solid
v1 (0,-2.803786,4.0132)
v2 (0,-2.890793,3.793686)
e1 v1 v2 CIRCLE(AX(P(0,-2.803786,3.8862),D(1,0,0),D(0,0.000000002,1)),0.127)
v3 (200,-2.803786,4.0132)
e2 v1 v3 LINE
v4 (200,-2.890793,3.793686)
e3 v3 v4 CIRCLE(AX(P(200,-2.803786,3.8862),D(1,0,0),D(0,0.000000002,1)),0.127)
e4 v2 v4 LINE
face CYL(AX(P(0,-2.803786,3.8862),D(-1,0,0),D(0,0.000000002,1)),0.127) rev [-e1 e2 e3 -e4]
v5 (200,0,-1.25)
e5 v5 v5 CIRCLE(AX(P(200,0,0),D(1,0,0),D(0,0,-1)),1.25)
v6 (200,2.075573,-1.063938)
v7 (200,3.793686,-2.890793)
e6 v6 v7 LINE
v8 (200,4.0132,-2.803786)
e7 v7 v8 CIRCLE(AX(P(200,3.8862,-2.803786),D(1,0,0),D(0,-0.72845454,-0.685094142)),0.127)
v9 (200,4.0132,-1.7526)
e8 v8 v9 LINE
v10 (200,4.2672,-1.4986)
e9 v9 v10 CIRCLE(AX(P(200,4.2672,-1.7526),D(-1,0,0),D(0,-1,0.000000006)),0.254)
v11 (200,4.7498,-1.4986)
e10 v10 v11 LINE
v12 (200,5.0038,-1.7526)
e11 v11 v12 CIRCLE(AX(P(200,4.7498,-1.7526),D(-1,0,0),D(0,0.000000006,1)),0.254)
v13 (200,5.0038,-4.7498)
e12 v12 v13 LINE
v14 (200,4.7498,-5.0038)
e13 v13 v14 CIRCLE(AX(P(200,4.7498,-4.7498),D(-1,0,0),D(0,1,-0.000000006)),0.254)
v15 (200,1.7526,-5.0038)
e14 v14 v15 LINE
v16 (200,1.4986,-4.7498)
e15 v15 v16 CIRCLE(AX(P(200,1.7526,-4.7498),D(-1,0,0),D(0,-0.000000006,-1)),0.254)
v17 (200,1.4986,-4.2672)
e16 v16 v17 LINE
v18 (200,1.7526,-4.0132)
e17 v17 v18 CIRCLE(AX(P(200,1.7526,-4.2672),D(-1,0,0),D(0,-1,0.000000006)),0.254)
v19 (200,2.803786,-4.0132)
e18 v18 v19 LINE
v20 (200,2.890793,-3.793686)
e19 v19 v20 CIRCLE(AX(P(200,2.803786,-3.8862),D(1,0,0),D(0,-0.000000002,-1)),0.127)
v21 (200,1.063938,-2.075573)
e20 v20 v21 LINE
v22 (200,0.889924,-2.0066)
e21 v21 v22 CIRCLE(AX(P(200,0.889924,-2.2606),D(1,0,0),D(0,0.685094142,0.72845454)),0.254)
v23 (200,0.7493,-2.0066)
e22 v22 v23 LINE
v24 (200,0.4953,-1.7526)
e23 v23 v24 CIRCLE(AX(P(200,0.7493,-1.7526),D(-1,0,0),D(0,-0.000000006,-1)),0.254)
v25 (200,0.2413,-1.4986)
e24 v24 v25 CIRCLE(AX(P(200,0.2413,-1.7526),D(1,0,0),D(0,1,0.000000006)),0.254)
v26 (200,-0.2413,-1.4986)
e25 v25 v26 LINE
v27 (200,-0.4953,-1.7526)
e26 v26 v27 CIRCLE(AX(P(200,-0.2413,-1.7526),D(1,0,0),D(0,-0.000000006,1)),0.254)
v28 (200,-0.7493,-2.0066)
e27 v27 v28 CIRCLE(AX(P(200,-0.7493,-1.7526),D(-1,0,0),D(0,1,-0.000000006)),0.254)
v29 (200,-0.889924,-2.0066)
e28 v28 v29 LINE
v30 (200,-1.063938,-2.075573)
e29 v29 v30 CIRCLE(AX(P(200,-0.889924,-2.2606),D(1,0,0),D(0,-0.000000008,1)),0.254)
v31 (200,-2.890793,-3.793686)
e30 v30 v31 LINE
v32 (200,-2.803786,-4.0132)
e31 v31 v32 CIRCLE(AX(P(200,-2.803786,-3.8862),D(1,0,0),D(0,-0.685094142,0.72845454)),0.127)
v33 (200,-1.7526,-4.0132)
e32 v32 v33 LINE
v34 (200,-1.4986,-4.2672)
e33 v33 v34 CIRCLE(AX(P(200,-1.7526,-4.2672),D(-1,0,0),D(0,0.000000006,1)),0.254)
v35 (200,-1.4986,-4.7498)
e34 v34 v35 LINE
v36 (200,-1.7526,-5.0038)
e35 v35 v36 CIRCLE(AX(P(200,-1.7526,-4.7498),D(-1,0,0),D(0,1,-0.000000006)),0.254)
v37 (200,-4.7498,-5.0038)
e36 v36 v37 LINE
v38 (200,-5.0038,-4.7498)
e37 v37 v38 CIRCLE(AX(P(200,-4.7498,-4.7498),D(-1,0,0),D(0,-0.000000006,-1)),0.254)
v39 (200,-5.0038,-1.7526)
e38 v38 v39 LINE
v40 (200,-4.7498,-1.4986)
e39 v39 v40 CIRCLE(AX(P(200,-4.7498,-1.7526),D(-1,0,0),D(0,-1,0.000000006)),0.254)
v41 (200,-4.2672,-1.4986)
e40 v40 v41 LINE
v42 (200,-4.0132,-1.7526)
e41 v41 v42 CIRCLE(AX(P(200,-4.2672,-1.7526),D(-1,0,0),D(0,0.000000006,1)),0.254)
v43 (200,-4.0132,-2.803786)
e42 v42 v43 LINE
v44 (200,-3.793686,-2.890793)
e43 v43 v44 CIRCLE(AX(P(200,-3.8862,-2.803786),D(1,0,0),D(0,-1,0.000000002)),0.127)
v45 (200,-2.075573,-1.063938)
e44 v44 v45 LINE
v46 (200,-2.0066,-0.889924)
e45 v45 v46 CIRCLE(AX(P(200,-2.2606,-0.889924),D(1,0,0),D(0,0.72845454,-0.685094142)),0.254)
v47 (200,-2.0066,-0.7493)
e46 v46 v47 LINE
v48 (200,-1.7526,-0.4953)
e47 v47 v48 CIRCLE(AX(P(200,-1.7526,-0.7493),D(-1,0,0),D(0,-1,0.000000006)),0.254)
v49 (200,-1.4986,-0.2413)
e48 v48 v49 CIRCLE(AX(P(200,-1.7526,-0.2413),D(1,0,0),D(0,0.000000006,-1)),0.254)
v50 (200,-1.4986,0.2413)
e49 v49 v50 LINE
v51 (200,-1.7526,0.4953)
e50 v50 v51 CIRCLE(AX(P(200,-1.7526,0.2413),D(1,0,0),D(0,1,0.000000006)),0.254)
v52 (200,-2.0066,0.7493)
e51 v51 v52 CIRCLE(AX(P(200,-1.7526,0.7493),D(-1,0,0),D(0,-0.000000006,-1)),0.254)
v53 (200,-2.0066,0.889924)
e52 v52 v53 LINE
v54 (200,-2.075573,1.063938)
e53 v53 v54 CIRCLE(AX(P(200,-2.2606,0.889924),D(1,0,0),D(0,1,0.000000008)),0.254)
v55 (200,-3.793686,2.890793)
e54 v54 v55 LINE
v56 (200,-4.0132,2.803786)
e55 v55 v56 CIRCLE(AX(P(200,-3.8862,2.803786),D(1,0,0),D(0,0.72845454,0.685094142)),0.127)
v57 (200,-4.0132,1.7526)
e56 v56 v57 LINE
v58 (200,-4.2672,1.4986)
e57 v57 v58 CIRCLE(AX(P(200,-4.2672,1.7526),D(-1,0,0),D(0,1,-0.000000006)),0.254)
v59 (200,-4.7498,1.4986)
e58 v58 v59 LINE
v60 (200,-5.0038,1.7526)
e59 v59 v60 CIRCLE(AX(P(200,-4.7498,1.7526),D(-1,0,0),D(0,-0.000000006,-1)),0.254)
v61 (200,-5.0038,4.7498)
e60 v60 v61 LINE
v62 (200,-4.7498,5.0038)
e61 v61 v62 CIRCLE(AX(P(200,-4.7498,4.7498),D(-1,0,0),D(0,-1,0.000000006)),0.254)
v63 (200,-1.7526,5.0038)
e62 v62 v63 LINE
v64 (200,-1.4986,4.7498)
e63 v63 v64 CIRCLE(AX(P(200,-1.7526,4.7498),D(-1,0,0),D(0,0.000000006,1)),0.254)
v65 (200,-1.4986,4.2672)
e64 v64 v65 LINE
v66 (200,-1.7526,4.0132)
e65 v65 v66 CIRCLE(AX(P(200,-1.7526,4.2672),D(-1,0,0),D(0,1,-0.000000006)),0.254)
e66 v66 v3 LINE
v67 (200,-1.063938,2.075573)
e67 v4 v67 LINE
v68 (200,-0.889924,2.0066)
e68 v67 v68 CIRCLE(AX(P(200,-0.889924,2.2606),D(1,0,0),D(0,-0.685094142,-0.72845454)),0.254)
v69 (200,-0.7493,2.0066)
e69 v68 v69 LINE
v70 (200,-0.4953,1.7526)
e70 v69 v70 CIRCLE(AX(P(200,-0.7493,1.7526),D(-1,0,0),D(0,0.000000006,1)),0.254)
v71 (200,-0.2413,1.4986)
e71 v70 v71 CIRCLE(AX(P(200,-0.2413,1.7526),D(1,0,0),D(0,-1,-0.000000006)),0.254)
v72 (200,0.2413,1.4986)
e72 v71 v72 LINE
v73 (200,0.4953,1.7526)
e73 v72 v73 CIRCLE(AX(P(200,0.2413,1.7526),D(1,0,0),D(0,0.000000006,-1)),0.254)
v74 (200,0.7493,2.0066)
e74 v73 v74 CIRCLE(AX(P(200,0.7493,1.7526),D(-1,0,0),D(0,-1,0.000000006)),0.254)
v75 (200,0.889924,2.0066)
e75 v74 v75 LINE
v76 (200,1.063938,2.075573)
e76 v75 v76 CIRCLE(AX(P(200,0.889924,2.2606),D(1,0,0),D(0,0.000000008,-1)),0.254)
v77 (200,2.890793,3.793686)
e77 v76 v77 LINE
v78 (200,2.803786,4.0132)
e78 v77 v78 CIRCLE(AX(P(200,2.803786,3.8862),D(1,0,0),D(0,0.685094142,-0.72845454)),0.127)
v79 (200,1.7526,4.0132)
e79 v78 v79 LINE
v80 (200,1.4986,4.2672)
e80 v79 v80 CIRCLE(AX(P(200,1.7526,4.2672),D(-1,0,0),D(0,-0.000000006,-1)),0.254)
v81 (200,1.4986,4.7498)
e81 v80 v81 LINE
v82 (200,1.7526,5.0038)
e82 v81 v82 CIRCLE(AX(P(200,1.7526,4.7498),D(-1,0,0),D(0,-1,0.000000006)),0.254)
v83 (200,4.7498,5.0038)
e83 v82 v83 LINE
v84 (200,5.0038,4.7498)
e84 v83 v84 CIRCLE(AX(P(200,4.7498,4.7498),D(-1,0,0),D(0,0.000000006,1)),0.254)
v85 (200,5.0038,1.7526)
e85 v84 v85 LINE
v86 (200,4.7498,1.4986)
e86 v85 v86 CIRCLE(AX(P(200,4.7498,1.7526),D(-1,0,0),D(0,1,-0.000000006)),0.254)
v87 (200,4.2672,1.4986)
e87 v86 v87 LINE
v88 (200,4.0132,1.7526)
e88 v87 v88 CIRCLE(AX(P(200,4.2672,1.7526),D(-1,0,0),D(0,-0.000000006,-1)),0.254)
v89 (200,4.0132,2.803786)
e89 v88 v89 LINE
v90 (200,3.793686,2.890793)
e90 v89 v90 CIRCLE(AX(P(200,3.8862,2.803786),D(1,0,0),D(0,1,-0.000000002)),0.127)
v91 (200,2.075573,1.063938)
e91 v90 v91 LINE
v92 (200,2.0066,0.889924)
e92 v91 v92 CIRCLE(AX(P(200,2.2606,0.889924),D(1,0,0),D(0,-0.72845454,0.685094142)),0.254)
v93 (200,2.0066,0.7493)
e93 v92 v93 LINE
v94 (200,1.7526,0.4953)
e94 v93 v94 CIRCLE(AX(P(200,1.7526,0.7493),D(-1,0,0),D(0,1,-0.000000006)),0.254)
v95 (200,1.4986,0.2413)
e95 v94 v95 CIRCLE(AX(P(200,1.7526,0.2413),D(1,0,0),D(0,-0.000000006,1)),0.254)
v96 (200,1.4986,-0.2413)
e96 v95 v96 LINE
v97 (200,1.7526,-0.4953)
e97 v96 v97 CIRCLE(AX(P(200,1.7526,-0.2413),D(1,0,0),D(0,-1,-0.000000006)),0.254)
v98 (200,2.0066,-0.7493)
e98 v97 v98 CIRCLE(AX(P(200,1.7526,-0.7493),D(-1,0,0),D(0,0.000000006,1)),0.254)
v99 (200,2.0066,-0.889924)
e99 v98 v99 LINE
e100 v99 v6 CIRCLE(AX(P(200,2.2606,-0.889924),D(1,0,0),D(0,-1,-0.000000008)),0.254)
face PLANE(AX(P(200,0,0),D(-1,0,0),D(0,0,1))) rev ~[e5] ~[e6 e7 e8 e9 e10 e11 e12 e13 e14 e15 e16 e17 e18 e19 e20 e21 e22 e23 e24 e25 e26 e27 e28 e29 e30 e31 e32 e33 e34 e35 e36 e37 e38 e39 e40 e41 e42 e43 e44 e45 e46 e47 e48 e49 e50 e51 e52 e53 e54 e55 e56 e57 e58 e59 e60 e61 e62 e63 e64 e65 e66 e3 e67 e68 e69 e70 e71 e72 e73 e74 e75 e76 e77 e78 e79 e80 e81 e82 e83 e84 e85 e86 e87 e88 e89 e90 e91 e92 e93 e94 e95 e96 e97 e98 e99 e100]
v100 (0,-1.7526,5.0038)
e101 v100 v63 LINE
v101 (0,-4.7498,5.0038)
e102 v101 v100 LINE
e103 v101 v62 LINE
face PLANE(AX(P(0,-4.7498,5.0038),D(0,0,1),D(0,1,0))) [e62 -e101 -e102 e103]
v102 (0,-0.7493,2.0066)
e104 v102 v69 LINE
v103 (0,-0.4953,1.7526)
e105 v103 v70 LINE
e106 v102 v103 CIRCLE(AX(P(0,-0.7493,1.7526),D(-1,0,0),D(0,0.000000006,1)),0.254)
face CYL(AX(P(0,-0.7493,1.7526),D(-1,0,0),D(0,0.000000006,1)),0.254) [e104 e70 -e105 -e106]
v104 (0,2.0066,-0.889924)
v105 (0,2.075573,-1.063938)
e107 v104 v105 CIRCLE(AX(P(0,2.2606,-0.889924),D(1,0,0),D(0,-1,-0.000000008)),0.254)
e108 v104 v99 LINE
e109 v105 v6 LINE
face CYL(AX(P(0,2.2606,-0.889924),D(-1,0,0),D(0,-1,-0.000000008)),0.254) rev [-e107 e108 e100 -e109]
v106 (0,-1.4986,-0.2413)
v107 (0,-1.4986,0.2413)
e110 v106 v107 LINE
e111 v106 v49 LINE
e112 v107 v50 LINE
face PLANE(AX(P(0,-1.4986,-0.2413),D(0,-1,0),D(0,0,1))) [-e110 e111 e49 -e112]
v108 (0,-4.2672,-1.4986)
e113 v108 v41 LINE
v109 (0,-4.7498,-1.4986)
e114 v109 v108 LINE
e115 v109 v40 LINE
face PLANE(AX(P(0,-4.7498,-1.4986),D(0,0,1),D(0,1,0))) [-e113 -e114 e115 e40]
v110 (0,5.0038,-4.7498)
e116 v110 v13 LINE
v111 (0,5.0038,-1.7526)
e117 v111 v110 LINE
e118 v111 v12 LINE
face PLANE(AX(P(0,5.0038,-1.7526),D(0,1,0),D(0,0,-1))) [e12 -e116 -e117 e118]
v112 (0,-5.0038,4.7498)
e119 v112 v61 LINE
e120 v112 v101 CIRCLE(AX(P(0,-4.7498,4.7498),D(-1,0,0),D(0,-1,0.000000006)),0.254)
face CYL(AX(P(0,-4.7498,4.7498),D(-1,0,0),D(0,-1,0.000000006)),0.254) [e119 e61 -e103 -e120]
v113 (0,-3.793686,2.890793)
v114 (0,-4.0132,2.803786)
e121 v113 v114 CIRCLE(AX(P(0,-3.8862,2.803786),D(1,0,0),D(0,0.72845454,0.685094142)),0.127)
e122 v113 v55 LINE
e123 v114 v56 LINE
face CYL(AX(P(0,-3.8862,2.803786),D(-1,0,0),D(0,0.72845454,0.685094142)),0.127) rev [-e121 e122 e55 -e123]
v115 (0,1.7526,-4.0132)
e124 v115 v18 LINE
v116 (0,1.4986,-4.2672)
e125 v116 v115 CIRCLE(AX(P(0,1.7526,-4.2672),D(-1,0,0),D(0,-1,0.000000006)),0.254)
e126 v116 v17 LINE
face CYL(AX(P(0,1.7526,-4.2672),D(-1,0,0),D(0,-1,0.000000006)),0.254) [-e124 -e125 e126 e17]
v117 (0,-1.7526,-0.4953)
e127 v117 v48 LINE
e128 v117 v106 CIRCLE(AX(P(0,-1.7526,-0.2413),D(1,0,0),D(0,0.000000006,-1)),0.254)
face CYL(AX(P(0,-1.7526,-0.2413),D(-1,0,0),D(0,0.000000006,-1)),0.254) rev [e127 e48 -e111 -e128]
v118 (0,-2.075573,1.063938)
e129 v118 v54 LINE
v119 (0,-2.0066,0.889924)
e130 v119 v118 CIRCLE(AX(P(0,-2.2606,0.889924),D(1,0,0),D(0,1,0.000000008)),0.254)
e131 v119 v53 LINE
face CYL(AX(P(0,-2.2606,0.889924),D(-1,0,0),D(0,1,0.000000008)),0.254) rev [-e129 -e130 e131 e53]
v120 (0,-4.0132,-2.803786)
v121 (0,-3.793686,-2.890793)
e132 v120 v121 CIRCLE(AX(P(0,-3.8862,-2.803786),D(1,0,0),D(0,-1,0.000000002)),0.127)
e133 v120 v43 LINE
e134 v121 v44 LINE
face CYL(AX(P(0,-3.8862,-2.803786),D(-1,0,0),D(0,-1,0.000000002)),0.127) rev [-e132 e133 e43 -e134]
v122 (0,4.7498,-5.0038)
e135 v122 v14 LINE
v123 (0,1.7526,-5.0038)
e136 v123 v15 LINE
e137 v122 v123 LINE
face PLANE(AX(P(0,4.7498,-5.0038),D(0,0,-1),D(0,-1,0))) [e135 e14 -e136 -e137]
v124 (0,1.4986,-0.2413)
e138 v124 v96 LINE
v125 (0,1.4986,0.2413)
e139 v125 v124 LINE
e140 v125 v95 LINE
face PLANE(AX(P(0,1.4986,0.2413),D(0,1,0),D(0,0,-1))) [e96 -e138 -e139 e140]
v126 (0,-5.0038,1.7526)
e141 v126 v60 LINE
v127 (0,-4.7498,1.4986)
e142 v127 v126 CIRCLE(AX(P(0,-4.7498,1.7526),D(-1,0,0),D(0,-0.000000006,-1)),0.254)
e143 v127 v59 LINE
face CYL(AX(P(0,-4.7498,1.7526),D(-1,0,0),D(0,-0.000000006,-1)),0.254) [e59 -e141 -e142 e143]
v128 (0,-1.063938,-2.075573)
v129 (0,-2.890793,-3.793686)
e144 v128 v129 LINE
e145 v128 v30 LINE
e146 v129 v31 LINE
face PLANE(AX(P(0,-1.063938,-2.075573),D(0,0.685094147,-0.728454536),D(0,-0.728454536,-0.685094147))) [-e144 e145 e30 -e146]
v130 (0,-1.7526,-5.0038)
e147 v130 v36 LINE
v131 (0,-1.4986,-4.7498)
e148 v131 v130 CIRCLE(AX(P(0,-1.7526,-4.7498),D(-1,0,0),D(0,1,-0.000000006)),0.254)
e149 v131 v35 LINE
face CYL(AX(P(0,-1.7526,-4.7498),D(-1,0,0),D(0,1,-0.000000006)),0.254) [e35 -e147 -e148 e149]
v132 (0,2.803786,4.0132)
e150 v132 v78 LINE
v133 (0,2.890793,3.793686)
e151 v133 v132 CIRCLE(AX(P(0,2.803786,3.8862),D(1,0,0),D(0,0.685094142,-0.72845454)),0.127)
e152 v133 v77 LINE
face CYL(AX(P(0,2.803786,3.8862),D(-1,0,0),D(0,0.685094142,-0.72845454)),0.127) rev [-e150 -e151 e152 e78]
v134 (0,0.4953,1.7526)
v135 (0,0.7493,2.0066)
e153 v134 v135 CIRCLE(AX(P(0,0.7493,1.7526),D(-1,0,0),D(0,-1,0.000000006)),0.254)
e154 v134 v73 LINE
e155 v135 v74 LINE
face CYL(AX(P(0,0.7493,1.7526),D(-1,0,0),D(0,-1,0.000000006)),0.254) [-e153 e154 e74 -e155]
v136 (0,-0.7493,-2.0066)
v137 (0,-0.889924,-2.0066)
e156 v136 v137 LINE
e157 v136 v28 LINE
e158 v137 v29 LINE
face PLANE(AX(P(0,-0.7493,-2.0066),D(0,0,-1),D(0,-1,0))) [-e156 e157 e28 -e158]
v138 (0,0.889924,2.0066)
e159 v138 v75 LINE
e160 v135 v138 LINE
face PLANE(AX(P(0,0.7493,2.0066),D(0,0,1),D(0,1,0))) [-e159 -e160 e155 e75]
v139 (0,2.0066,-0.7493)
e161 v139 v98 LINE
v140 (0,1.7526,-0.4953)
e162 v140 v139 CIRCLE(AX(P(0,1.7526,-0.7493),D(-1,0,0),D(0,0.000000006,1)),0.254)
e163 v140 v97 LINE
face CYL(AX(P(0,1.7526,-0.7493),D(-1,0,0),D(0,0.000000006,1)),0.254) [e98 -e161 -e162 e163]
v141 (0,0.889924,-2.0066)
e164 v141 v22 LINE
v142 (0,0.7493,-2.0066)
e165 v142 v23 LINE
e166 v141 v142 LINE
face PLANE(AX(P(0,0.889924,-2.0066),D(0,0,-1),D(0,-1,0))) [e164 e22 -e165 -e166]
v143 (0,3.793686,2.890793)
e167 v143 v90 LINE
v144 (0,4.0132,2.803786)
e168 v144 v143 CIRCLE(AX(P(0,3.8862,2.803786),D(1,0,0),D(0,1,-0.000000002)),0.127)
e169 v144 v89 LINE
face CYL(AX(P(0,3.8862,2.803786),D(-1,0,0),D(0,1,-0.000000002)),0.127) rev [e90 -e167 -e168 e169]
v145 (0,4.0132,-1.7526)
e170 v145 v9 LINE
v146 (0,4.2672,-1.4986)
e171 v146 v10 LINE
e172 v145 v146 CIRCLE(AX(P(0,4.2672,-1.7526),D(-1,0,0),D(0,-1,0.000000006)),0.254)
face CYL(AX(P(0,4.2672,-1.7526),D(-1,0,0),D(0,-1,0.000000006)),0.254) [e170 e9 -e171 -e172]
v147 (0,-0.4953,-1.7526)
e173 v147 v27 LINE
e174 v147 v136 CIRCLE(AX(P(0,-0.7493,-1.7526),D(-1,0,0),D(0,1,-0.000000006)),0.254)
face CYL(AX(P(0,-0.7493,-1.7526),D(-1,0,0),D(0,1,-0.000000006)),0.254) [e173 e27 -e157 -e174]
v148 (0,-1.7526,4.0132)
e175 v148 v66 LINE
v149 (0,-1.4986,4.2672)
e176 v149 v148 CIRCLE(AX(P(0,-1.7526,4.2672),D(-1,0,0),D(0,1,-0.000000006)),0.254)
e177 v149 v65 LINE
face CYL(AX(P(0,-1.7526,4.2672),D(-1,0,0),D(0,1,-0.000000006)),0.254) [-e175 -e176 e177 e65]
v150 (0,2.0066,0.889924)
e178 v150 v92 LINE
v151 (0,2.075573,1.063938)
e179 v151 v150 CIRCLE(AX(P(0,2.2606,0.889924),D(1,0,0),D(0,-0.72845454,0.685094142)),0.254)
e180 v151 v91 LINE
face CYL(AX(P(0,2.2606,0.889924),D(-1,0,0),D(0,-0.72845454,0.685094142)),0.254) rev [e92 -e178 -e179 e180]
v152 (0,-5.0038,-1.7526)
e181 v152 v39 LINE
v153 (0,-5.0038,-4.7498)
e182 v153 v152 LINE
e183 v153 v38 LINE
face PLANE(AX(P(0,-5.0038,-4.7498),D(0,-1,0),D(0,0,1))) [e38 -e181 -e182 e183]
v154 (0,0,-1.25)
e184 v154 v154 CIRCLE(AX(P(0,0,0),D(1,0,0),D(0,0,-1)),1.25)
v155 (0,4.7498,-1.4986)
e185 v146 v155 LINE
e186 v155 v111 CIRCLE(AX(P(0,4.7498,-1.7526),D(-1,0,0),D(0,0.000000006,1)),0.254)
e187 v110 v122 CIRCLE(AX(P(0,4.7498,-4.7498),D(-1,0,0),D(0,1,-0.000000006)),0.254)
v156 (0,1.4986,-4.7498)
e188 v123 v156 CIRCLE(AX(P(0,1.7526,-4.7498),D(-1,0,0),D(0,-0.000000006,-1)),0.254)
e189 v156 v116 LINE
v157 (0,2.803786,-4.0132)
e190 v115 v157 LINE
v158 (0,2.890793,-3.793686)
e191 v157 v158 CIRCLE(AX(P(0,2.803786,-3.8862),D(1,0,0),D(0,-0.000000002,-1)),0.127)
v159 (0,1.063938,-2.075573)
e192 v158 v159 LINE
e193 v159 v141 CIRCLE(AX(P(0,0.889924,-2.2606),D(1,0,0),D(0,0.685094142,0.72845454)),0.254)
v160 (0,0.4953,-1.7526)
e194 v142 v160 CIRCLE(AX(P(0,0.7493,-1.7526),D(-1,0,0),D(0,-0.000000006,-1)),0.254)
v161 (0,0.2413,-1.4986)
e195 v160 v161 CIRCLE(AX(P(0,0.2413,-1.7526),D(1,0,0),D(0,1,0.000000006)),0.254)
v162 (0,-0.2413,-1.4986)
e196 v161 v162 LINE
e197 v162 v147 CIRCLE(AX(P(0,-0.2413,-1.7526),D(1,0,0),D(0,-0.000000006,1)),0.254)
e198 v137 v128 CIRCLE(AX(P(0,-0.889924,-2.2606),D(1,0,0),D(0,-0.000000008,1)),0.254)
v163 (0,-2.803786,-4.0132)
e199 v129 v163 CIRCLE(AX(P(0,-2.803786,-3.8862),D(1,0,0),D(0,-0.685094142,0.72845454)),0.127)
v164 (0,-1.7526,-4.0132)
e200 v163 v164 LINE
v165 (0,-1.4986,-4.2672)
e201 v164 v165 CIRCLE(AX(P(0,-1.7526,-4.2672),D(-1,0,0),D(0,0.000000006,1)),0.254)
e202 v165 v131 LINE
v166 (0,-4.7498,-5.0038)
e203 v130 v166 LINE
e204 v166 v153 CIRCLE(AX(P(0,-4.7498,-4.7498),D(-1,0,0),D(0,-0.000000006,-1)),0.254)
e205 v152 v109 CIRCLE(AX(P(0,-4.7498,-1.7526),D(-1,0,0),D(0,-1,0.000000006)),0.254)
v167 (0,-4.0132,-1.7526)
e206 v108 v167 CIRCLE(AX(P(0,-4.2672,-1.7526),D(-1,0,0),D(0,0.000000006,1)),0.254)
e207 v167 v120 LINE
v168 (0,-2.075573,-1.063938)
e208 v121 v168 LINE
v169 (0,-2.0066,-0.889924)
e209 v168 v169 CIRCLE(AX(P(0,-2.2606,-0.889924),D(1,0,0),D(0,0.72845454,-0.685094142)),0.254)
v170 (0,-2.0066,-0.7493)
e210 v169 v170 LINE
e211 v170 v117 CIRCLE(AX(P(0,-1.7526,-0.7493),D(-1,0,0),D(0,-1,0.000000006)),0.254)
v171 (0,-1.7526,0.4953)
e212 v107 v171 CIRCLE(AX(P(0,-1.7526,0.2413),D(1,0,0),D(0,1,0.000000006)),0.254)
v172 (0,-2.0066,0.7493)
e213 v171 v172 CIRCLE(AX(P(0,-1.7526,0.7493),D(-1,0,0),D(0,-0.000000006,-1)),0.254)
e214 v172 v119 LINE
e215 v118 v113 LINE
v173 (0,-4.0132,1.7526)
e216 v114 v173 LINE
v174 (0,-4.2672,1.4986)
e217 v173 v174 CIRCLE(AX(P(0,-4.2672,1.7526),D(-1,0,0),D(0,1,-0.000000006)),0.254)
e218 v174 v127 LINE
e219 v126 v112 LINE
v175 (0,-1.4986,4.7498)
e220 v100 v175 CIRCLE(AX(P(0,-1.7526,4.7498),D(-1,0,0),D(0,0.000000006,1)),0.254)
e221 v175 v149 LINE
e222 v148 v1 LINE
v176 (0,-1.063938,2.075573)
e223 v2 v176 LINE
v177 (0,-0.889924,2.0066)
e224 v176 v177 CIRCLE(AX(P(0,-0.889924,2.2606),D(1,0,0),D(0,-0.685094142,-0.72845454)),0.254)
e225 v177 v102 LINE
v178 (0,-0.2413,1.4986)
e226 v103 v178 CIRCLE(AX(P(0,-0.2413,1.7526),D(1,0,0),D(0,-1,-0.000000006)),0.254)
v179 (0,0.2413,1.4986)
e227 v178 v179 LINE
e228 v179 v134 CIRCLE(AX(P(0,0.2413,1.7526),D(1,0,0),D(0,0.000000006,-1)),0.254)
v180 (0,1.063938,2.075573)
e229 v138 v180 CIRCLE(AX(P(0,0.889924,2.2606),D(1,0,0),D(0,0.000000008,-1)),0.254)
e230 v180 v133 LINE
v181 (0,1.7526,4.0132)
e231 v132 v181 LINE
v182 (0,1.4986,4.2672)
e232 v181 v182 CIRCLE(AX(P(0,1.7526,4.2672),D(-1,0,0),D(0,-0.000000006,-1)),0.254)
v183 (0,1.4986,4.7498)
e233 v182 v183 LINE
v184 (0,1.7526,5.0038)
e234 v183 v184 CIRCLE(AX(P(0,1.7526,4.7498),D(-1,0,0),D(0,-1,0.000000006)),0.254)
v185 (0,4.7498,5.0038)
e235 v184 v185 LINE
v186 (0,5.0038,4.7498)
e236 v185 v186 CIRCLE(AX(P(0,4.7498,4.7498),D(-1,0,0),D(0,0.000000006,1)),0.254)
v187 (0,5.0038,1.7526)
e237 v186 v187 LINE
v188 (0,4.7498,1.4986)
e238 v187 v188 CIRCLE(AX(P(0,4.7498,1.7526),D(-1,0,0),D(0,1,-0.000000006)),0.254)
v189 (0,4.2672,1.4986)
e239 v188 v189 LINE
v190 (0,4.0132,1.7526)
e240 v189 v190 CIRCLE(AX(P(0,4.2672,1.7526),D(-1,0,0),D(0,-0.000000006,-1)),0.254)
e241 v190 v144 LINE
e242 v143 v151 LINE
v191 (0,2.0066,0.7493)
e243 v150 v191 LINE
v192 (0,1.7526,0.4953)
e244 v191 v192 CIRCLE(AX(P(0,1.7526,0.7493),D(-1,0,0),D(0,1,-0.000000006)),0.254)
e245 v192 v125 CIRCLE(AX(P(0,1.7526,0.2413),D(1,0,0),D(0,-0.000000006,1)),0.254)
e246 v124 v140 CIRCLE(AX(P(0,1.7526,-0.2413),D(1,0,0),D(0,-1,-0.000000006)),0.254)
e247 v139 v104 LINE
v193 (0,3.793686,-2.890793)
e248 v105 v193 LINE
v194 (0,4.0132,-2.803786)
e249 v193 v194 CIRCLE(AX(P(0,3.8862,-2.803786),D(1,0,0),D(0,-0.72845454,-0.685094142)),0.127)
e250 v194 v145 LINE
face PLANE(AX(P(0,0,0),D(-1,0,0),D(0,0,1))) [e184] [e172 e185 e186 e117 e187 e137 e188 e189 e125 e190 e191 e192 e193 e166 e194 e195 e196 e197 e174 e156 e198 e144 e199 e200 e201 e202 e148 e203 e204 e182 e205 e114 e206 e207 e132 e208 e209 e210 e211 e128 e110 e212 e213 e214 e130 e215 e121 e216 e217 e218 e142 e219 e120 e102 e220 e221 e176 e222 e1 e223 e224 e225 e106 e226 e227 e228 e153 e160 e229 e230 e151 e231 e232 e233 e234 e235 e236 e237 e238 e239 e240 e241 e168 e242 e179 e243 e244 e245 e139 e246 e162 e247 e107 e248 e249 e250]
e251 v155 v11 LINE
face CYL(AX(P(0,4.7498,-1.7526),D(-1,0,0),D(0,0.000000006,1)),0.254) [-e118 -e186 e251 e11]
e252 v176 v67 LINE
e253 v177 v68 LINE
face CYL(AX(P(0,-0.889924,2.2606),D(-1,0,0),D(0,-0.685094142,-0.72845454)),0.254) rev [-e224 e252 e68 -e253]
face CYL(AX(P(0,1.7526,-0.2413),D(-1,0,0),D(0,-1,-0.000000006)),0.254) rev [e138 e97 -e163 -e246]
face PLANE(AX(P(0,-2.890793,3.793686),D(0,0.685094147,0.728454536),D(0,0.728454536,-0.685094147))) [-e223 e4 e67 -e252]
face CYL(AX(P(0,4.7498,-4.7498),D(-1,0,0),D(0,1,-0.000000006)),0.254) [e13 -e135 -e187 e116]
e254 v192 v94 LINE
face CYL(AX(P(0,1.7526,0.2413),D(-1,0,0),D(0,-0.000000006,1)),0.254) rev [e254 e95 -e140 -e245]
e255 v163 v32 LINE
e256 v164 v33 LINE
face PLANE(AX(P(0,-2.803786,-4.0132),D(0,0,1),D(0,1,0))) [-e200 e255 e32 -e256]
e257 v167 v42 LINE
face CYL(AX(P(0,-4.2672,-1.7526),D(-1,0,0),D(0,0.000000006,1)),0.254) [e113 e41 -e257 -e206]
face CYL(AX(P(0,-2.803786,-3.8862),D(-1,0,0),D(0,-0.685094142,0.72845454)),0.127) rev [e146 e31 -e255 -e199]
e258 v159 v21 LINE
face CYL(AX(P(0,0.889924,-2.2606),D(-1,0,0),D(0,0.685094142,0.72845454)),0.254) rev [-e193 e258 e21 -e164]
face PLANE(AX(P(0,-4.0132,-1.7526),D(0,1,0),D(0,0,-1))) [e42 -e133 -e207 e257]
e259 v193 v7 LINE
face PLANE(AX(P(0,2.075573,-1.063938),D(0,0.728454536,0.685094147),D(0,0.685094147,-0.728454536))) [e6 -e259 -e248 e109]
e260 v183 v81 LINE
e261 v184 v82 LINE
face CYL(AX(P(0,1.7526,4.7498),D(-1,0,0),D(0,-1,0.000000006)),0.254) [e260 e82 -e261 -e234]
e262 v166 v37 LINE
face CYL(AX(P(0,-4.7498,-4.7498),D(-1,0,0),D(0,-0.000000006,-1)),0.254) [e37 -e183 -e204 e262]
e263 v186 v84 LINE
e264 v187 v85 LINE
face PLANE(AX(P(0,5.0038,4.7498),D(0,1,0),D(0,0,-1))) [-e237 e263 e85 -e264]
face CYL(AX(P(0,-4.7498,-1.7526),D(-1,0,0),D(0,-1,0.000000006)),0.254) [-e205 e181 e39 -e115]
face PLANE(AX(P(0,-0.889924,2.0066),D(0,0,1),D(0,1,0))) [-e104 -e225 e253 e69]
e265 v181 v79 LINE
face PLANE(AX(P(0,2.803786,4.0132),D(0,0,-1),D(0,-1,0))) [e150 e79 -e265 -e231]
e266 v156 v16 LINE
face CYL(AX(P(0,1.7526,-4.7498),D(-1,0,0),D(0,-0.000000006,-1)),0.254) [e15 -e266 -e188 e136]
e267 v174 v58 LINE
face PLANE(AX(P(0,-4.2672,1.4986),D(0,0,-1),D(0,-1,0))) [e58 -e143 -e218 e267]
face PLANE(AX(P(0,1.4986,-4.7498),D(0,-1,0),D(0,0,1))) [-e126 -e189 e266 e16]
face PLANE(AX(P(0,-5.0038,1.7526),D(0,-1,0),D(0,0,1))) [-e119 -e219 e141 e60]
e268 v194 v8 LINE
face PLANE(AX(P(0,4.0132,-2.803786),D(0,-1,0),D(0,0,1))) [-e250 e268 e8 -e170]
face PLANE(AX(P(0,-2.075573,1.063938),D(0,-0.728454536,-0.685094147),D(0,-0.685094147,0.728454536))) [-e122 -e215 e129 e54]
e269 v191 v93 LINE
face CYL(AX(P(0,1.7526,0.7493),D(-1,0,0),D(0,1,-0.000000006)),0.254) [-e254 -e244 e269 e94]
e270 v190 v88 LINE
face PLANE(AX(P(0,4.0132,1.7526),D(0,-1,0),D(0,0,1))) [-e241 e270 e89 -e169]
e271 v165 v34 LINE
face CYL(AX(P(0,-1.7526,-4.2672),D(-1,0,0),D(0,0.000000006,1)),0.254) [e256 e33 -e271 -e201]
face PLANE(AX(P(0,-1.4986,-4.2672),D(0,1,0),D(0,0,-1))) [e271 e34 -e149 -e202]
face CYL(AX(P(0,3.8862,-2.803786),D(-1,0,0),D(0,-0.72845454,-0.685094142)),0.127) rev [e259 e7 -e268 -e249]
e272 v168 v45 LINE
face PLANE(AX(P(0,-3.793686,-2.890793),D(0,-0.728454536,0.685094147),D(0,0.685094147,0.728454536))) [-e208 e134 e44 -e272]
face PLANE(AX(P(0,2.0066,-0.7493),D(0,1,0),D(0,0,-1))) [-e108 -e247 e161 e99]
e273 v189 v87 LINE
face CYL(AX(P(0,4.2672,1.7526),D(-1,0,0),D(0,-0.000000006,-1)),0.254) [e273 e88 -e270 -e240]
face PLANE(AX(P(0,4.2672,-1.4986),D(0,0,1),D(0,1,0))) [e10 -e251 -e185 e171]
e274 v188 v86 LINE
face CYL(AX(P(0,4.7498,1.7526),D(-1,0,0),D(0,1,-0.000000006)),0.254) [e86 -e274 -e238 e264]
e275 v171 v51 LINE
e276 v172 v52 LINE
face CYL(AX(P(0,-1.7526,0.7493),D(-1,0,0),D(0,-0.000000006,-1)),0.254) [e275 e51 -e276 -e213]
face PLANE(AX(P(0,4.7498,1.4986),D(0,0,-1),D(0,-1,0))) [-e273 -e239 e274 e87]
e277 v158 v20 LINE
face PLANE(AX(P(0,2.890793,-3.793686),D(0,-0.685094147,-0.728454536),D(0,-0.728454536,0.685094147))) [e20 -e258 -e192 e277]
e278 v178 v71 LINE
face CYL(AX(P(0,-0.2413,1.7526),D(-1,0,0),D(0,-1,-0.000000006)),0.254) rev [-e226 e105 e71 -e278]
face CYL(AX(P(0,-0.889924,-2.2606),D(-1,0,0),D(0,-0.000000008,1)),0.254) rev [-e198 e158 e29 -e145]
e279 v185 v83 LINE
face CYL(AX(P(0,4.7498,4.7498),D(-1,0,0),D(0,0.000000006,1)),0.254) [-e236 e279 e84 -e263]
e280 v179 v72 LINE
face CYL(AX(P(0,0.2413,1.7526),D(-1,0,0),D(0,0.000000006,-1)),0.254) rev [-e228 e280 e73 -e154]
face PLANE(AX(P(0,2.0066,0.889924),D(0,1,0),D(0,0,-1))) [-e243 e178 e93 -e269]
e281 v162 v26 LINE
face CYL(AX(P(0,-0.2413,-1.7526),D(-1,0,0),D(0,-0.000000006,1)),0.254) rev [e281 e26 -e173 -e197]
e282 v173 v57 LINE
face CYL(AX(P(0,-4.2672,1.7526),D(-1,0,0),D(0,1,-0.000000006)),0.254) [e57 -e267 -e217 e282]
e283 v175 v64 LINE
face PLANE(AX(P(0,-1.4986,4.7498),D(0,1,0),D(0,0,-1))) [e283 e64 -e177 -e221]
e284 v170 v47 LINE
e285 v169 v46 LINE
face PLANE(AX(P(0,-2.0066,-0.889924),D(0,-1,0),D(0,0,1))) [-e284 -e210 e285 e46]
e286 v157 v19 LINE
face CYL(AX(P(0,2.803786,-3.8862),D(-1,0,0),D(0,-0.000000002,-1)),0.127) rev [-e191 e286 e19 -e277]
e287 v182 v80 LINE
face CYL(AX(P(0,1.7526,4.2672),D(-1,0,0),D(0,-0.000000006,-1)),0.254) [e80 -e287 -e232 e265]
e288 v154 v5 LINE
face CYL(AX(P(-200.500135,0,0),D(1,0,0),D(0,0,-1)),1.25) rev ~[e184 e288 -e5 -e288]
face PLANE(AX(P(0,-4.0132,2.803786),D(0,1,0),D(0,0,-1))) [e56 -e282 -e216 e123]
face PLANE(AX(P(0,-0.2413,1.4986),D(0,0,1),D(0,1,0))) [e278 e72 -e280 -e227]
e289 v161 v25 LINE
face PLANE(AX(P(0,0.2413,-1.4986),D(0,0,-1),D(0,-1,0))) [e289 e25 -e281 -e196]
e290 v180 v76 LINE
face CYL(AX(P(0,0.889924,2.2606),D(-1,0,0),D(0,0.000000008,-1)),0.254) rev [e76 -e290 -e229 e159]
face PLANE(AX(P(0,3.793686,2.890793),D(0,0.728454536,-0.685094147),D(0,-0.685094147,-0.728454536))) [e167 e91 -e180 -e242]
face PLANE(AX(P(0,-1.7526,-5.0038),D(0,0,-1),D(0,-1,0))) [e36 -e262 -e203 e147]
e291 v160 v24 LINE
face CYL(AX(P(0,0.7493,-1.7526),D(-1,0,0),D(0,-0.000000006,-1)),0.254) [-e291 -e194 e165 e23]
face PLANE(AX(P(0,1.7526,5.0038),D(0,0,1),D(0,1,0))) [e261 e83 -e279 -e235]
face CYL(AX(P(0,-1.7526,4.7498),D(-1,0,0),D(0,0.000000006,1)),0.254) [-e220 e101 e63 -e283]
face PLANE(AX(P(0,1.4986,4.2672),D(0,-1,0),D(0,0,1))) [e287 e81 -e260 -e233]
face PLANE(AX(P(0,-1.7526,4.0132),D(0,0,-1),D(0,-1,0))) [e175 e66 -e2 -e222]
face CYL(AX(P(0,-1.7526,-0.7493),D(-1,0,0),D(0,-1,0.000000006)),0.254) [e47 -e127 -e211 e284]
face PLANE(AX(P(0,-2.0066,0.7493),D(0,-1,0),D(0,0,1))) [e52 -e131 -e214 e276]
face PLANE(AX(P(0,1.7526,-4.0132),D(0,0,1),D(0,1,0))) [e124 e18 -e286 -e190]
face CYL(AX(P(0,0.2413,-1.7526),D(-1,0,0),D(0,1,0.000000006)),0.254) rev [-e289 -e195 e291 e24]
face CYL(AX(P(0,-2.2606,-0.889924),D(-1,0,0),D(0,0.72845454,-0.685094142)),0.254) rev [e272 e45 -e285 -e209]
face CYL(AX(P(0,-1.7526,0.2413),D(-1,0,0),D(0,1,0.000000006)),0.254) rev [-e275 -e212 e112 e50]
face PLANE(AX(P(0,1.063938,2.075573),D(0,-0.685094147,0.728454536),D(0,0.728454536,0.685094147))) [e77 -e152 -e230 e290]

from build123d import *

# Parameters (mm, degrees)
ESTRUSIONE_ESTRUSIONE1_DEPTH = 200
FORO_FILETTATO_M3X0_5_1_D    = 2.5


with BuildPart() as part:
    # Sketch1 → Estrusione-Estrusione1 (new body)
    with BuildSketch(Plane(origin=(0, 0, 0), x_dir=(0, 0, -1), z_dir=(1, 0, 0))):
        with BuildLine():
            Line((-0.2413, 1.4986), (0.2413, 1.4986))
            ThreePointArc((0.2413, 1.4986), (0.420905122, 1.572994878), (0.4953, 1.7526))
            ThreePointArc((0.4953, 1.7526), (0.569694878, 1.932205122), (0.7493, 2.0066))
            Line((0.7493, 2.0066), (0.889923986, 2.0066))
            ThreePointArc((0.889923986, 2.0066), (0.983516259, 2.024471886), (1.063937899, 2.075572548))
            Line((1.063937899, 2.075572548), (2.890793, 3.793686274))
            ThreePointArc((2.890793, 3.793686274), (2.921850101, 3.932996137), (2.803786044, 4.0132))
            Line((2.803786044, 4.0132), (1.7526, 4.0132))
            ThreePointArc((1.7526, 4.0132), (1.572994878, 4.087594878), (1.4986, 4.2672))
            Line((1.4986, 4.2672), (1.4986, 4.7498))
            ThreePointArc((1.4986, 4.7498), (1.572994878, 4.929405122), (1.7526, 5.0038))
            Line((1.7526, 5.0038), (4.7498, 5.0038))
            ThreePointArc((4.7498, 5.0038), (4.929405122, 4.929405122), (5.0038, 4.7498))
            Line((5.0038, 4.7498), (5.0038, 1.7526))
            ThreePointArc((5.0038, 1.7526), (4.929405122, 1.572994878), (4.7498, 1.4986))
            Line((4.7498, 1.4986), (4.2672, 1.4986))
            ThreePointArc((4.2672, 1.4986), (4.087594878, 1.572994878), (4.0132, 1.7526))
            Line((4.0132, 1.7526), (4.0132, 2.803786044))
            ThreePointArc((4.0132, 2.803786044), (3.932996137, 2.921850101), (3.793686274, 2.890793))
            Line((3.793686274, 2.890793), (2.075572548, 1.063937899))
            ThreePointArc((2.075572548, 1.063937899), (2.024471886, 0.983516259), (2.0066, 0.889923986))
            Line((2.0066, 0.889923986), (2.0066, 0.7493))
            ThreePointArc((2.0066, 0.7493), (1.932205122, 0.569694878), (1.7526, 0.4953))
            ThreePointArc((1.7526, 0.4953), (1.572994878, 0.420905122), (1.4986, 0.2413))
            Line((1.4986, 0.2413), (1.4986, -0.2413))
            ThreePointArc((1.4986, -0.2413), (1.572994878, -0.420905122), (1.7526, -0.4953))
            ThreePointArc((1.7526, -0.4953), (1.932205122, -0.569694878), (2.0066, -0.7493))
            Line((2.0066, -0.7493), (2.0066, -0.889923986))
            ThreePointArc((2.0066, -0.889923986), (2.024471886, -0.983516259), (2.075572548, -1.063937899))
            Line((2.075572548, -1.063937899), (3.793686274, -2.890793))
            ThreePointArc((3.793686274, -2.890793), (3.932996137, -2.921850101), (4.0132, -2.803786044))
            Line((4.0132, -2.803786044), (4.0132, -1.7526))
            ThreePointArc((4.0132, -1.7526), (4.087594878, -1.572994878), (4.2672, -1.4986))
            Line((4.2672, -1.4986), (4.7498, -1.4986))
            ThreePointArc((4.7498, -1.4986), (4.929405122, -1.572994878), (5.0038, -1.7526))
            Line((5.0038, -1.7526), (5.0038, -4.7498))
            ThreePointArc((5.0038, -4.7498), (4.929405122, -4.929405122), (4.7498, -5.0038))
            Line((4.7498, -5.0038), (1.7526, -5.0038))
            ThreePointArc((1.7526, -5.0038), (1.572994878, -4.929405122), (1.4986, -4.7498))
            Line((1.4986, -4.7498), (1.4986, -4.2672))
            ThreePointArc((1.4986, -4.2672), (1.572994878, -4.087594878), (1.7526, -4.0132))
            Line((1.7526, -4.0132), (2.803786044, -4.0132))
            ThreePointArc((2.803786044, -4.0132), (2.921850101, -3.932996137), (2.890793, -3.793686274))
            Line((2.890793, -3.793686274), (1.063937899, -2.075572548))
            ThreePointArc((1.063937899, -2.075572548), (0.983516259, -2.024471886), (0.889923986, -2.0066))
            Line((0.889923986, -2.0066), (0.7493, -2.0066))
            ThreePointArc((0.7493, -2.0066), (0.569694878, -1.932205122), (0.4953, -1.7526))
            ThreePointArc((0.4953, -1.7526), (0.420905122, -1.572994878), (0.2413, -1.4986))
            Line((0.2413, -1.4986), (-0.2413, -1.4986))
            ThreePointArc((-0.2413, -1.4986), (-0.420905122, -1.572994878), (-0.4953, -1.7526))
            ThreePointArc((-0.4953, -1.7526), (-0.569694878, -1.932205122), (-0.7493, -2.0066))
            Line((-0.7493, -2.0066), (-0.889923986, -2.0066))
            ThreePointArc((-0.889923986, -2.0066), (-0.983516259, -2.024471886), (-1.063937899, -2.075572548))
            Line((-1.063937899, -2.075572548), (-2.890793, -3.793686274))
            ThreePointArc((-2.890793, -3.793686274), (-2.921850101, -3.932996137), (-2.803786044, -4.0132))
            Line((-2.803786044, -4.0132), (-1.7526, -4.0132))
            ThreePointArc((-1.7526, -4.0132), (-1.572994878, -4.087594878), (-1.4986, -4.2672))
            Line((-1.4986, -4.2672), (-1.4986, -4.7498))
            ThreePointArc((-1.4986, -4.7498), (-1.572994878, -4.929405122), (-1.7526, -5.0038))
            Line((-1.7526, -5.0038), (-4.7498, -5.0038))
            ThreePointArc((-4.7498, -5.0038), (-4.929405122, -4.929405122), (-5.0038, -4.7498))
            Line((-5.0038, -4.7498), (-5.0038, -1.7526))
            ThreePointArc((-5.0038, -1.7526), (-4.929405122, -1.572994878), (-4.7498, -1.4986))
            Line((-4.7498, -1.4986), (-4.2672, -1.4986))
            ThreePointArc((-4.2672, -1.4986), (-4.087594878, -1.572994878), (-4.0132, -1.7526))
            Line((-4.0132, -1.7526), (-4.0132, -2.803786044))
            ThreePointArc((-4.0132, -2.803786044), (-3.932996137, -2.921850101), (-3.793686274, -2.890793))
            Line((-3.793686274, -2.890793), (-2.075572548, -1.063937899))
            ThreePointArc((-2.075572548, -1.063937899), (-2.024471886, -0.983516259), (-2.0066, -0.889923986))
            Line((-2.0066, -0.889923986), (-2.0066, -0.7493))
            ThreePointArc((-2.0066, -0.7493), (-1.932205122, -0.569694878), (-1.7526, -0.4953))
            ThreePointArc((-1.7526, -0.4953), (-1.572994878, -0.420905122), (-1.4986, -0.2413))
            Line((-1.4986, -0.2413), (-1.4986, 0.2413))
            ThreePointArc((-1.4986, 0.2413), (-1.572994878, 0.420905122), (-1.7526, 0.4953))
            ThreePointArc((-1.7526, 0.4953), (-1.932205122, 0.569694878), (-2.0066, 0.7493))
            Line((-2.0066, 0.7493), (-2.0066, 0.889923986))
            ThreePointArc((-2.0066, 0.889923986), (-2.024471886, 0.983516259), (-2.075572548, 1.063937899))
            Line((-2.075572548, 1.063937899), (-3.793686274, 2.890793))
            ThreePointArc((-3.793686274, 2.890793), (-3.932996137, 2.921850101), (-4.0132, 2.803786044))
            Line((-4.0132, 2.803786044), (-4.0132, 1.7526))
            ThreePointArc((-4.0132, 1.7526), (-4.087594878, 1.572994878), (-4.2672, 1.4986))
            Line((-4.2672, 1.4986), (-4.7498, 1.4986))
            ThreePointArc((-4.7498, 1.4986), (-4.929405122, 1.572994878), (-5.0038, 1.7526))
            Line((-5.0038, 1.7526), (-5.0038, 4.7498))
            ThreePointArc((-5.0038, 4.7498), (-4.929405122, 4.929405122), (-4.7498, 5.0038))
            Line((-4.7498, 5.0038), (-1.7526, 5.0038))
            ThreePointArc((-1.7526, 5.0038), (-1.572994878, 4.929405122), (-1.4986, 4.7498))
            Line((-1.4986, 4.7498), (-1.4986, 4.2672))
            ThreePointArc((-1.4986, 4.2672), (-1.572994878, 4.087594878), (-1.7526, 4.0132))
            Line((-1.7526, 4.0132), (-2.803786044, 4.0132))
            ThreePointArc((-2.803786044, 4.0132), (-2.921850101, 3.932996137), (-2.890793, 3.793686274))
            Line((-2.890793, 3.793686274), (-1.063937899, 2.075572548))
            ThreePointArc((-1.063937899, 2.075572548), (-0.983516259, 2.024471886), (-0.889923986, 2.0066))
            Line((-0.889923986, 2.0066), (-0.7493, 2.0066))
            ThreePointArc((-0.7493, 2.0066), (-0.569694878, 1.932205122), (-0.4953, 1.7526))
            ThreePointArc((-0.4953, 1.7526), (-0.420905122, 1.572994878), (-0.2413, 1.4986))
        make_face()
    extrude(amount=ESTRUSIONE_ESTRUSIONE1_DEPTH)

    # Foro filettato M3x0.5-1 (through all)
    with Locations(Plane.ZY):
        with Locations((0, 0)):
            Hole(FORO_FILETTATO_M3X0_5_1_D / 2)


solid = part.part
